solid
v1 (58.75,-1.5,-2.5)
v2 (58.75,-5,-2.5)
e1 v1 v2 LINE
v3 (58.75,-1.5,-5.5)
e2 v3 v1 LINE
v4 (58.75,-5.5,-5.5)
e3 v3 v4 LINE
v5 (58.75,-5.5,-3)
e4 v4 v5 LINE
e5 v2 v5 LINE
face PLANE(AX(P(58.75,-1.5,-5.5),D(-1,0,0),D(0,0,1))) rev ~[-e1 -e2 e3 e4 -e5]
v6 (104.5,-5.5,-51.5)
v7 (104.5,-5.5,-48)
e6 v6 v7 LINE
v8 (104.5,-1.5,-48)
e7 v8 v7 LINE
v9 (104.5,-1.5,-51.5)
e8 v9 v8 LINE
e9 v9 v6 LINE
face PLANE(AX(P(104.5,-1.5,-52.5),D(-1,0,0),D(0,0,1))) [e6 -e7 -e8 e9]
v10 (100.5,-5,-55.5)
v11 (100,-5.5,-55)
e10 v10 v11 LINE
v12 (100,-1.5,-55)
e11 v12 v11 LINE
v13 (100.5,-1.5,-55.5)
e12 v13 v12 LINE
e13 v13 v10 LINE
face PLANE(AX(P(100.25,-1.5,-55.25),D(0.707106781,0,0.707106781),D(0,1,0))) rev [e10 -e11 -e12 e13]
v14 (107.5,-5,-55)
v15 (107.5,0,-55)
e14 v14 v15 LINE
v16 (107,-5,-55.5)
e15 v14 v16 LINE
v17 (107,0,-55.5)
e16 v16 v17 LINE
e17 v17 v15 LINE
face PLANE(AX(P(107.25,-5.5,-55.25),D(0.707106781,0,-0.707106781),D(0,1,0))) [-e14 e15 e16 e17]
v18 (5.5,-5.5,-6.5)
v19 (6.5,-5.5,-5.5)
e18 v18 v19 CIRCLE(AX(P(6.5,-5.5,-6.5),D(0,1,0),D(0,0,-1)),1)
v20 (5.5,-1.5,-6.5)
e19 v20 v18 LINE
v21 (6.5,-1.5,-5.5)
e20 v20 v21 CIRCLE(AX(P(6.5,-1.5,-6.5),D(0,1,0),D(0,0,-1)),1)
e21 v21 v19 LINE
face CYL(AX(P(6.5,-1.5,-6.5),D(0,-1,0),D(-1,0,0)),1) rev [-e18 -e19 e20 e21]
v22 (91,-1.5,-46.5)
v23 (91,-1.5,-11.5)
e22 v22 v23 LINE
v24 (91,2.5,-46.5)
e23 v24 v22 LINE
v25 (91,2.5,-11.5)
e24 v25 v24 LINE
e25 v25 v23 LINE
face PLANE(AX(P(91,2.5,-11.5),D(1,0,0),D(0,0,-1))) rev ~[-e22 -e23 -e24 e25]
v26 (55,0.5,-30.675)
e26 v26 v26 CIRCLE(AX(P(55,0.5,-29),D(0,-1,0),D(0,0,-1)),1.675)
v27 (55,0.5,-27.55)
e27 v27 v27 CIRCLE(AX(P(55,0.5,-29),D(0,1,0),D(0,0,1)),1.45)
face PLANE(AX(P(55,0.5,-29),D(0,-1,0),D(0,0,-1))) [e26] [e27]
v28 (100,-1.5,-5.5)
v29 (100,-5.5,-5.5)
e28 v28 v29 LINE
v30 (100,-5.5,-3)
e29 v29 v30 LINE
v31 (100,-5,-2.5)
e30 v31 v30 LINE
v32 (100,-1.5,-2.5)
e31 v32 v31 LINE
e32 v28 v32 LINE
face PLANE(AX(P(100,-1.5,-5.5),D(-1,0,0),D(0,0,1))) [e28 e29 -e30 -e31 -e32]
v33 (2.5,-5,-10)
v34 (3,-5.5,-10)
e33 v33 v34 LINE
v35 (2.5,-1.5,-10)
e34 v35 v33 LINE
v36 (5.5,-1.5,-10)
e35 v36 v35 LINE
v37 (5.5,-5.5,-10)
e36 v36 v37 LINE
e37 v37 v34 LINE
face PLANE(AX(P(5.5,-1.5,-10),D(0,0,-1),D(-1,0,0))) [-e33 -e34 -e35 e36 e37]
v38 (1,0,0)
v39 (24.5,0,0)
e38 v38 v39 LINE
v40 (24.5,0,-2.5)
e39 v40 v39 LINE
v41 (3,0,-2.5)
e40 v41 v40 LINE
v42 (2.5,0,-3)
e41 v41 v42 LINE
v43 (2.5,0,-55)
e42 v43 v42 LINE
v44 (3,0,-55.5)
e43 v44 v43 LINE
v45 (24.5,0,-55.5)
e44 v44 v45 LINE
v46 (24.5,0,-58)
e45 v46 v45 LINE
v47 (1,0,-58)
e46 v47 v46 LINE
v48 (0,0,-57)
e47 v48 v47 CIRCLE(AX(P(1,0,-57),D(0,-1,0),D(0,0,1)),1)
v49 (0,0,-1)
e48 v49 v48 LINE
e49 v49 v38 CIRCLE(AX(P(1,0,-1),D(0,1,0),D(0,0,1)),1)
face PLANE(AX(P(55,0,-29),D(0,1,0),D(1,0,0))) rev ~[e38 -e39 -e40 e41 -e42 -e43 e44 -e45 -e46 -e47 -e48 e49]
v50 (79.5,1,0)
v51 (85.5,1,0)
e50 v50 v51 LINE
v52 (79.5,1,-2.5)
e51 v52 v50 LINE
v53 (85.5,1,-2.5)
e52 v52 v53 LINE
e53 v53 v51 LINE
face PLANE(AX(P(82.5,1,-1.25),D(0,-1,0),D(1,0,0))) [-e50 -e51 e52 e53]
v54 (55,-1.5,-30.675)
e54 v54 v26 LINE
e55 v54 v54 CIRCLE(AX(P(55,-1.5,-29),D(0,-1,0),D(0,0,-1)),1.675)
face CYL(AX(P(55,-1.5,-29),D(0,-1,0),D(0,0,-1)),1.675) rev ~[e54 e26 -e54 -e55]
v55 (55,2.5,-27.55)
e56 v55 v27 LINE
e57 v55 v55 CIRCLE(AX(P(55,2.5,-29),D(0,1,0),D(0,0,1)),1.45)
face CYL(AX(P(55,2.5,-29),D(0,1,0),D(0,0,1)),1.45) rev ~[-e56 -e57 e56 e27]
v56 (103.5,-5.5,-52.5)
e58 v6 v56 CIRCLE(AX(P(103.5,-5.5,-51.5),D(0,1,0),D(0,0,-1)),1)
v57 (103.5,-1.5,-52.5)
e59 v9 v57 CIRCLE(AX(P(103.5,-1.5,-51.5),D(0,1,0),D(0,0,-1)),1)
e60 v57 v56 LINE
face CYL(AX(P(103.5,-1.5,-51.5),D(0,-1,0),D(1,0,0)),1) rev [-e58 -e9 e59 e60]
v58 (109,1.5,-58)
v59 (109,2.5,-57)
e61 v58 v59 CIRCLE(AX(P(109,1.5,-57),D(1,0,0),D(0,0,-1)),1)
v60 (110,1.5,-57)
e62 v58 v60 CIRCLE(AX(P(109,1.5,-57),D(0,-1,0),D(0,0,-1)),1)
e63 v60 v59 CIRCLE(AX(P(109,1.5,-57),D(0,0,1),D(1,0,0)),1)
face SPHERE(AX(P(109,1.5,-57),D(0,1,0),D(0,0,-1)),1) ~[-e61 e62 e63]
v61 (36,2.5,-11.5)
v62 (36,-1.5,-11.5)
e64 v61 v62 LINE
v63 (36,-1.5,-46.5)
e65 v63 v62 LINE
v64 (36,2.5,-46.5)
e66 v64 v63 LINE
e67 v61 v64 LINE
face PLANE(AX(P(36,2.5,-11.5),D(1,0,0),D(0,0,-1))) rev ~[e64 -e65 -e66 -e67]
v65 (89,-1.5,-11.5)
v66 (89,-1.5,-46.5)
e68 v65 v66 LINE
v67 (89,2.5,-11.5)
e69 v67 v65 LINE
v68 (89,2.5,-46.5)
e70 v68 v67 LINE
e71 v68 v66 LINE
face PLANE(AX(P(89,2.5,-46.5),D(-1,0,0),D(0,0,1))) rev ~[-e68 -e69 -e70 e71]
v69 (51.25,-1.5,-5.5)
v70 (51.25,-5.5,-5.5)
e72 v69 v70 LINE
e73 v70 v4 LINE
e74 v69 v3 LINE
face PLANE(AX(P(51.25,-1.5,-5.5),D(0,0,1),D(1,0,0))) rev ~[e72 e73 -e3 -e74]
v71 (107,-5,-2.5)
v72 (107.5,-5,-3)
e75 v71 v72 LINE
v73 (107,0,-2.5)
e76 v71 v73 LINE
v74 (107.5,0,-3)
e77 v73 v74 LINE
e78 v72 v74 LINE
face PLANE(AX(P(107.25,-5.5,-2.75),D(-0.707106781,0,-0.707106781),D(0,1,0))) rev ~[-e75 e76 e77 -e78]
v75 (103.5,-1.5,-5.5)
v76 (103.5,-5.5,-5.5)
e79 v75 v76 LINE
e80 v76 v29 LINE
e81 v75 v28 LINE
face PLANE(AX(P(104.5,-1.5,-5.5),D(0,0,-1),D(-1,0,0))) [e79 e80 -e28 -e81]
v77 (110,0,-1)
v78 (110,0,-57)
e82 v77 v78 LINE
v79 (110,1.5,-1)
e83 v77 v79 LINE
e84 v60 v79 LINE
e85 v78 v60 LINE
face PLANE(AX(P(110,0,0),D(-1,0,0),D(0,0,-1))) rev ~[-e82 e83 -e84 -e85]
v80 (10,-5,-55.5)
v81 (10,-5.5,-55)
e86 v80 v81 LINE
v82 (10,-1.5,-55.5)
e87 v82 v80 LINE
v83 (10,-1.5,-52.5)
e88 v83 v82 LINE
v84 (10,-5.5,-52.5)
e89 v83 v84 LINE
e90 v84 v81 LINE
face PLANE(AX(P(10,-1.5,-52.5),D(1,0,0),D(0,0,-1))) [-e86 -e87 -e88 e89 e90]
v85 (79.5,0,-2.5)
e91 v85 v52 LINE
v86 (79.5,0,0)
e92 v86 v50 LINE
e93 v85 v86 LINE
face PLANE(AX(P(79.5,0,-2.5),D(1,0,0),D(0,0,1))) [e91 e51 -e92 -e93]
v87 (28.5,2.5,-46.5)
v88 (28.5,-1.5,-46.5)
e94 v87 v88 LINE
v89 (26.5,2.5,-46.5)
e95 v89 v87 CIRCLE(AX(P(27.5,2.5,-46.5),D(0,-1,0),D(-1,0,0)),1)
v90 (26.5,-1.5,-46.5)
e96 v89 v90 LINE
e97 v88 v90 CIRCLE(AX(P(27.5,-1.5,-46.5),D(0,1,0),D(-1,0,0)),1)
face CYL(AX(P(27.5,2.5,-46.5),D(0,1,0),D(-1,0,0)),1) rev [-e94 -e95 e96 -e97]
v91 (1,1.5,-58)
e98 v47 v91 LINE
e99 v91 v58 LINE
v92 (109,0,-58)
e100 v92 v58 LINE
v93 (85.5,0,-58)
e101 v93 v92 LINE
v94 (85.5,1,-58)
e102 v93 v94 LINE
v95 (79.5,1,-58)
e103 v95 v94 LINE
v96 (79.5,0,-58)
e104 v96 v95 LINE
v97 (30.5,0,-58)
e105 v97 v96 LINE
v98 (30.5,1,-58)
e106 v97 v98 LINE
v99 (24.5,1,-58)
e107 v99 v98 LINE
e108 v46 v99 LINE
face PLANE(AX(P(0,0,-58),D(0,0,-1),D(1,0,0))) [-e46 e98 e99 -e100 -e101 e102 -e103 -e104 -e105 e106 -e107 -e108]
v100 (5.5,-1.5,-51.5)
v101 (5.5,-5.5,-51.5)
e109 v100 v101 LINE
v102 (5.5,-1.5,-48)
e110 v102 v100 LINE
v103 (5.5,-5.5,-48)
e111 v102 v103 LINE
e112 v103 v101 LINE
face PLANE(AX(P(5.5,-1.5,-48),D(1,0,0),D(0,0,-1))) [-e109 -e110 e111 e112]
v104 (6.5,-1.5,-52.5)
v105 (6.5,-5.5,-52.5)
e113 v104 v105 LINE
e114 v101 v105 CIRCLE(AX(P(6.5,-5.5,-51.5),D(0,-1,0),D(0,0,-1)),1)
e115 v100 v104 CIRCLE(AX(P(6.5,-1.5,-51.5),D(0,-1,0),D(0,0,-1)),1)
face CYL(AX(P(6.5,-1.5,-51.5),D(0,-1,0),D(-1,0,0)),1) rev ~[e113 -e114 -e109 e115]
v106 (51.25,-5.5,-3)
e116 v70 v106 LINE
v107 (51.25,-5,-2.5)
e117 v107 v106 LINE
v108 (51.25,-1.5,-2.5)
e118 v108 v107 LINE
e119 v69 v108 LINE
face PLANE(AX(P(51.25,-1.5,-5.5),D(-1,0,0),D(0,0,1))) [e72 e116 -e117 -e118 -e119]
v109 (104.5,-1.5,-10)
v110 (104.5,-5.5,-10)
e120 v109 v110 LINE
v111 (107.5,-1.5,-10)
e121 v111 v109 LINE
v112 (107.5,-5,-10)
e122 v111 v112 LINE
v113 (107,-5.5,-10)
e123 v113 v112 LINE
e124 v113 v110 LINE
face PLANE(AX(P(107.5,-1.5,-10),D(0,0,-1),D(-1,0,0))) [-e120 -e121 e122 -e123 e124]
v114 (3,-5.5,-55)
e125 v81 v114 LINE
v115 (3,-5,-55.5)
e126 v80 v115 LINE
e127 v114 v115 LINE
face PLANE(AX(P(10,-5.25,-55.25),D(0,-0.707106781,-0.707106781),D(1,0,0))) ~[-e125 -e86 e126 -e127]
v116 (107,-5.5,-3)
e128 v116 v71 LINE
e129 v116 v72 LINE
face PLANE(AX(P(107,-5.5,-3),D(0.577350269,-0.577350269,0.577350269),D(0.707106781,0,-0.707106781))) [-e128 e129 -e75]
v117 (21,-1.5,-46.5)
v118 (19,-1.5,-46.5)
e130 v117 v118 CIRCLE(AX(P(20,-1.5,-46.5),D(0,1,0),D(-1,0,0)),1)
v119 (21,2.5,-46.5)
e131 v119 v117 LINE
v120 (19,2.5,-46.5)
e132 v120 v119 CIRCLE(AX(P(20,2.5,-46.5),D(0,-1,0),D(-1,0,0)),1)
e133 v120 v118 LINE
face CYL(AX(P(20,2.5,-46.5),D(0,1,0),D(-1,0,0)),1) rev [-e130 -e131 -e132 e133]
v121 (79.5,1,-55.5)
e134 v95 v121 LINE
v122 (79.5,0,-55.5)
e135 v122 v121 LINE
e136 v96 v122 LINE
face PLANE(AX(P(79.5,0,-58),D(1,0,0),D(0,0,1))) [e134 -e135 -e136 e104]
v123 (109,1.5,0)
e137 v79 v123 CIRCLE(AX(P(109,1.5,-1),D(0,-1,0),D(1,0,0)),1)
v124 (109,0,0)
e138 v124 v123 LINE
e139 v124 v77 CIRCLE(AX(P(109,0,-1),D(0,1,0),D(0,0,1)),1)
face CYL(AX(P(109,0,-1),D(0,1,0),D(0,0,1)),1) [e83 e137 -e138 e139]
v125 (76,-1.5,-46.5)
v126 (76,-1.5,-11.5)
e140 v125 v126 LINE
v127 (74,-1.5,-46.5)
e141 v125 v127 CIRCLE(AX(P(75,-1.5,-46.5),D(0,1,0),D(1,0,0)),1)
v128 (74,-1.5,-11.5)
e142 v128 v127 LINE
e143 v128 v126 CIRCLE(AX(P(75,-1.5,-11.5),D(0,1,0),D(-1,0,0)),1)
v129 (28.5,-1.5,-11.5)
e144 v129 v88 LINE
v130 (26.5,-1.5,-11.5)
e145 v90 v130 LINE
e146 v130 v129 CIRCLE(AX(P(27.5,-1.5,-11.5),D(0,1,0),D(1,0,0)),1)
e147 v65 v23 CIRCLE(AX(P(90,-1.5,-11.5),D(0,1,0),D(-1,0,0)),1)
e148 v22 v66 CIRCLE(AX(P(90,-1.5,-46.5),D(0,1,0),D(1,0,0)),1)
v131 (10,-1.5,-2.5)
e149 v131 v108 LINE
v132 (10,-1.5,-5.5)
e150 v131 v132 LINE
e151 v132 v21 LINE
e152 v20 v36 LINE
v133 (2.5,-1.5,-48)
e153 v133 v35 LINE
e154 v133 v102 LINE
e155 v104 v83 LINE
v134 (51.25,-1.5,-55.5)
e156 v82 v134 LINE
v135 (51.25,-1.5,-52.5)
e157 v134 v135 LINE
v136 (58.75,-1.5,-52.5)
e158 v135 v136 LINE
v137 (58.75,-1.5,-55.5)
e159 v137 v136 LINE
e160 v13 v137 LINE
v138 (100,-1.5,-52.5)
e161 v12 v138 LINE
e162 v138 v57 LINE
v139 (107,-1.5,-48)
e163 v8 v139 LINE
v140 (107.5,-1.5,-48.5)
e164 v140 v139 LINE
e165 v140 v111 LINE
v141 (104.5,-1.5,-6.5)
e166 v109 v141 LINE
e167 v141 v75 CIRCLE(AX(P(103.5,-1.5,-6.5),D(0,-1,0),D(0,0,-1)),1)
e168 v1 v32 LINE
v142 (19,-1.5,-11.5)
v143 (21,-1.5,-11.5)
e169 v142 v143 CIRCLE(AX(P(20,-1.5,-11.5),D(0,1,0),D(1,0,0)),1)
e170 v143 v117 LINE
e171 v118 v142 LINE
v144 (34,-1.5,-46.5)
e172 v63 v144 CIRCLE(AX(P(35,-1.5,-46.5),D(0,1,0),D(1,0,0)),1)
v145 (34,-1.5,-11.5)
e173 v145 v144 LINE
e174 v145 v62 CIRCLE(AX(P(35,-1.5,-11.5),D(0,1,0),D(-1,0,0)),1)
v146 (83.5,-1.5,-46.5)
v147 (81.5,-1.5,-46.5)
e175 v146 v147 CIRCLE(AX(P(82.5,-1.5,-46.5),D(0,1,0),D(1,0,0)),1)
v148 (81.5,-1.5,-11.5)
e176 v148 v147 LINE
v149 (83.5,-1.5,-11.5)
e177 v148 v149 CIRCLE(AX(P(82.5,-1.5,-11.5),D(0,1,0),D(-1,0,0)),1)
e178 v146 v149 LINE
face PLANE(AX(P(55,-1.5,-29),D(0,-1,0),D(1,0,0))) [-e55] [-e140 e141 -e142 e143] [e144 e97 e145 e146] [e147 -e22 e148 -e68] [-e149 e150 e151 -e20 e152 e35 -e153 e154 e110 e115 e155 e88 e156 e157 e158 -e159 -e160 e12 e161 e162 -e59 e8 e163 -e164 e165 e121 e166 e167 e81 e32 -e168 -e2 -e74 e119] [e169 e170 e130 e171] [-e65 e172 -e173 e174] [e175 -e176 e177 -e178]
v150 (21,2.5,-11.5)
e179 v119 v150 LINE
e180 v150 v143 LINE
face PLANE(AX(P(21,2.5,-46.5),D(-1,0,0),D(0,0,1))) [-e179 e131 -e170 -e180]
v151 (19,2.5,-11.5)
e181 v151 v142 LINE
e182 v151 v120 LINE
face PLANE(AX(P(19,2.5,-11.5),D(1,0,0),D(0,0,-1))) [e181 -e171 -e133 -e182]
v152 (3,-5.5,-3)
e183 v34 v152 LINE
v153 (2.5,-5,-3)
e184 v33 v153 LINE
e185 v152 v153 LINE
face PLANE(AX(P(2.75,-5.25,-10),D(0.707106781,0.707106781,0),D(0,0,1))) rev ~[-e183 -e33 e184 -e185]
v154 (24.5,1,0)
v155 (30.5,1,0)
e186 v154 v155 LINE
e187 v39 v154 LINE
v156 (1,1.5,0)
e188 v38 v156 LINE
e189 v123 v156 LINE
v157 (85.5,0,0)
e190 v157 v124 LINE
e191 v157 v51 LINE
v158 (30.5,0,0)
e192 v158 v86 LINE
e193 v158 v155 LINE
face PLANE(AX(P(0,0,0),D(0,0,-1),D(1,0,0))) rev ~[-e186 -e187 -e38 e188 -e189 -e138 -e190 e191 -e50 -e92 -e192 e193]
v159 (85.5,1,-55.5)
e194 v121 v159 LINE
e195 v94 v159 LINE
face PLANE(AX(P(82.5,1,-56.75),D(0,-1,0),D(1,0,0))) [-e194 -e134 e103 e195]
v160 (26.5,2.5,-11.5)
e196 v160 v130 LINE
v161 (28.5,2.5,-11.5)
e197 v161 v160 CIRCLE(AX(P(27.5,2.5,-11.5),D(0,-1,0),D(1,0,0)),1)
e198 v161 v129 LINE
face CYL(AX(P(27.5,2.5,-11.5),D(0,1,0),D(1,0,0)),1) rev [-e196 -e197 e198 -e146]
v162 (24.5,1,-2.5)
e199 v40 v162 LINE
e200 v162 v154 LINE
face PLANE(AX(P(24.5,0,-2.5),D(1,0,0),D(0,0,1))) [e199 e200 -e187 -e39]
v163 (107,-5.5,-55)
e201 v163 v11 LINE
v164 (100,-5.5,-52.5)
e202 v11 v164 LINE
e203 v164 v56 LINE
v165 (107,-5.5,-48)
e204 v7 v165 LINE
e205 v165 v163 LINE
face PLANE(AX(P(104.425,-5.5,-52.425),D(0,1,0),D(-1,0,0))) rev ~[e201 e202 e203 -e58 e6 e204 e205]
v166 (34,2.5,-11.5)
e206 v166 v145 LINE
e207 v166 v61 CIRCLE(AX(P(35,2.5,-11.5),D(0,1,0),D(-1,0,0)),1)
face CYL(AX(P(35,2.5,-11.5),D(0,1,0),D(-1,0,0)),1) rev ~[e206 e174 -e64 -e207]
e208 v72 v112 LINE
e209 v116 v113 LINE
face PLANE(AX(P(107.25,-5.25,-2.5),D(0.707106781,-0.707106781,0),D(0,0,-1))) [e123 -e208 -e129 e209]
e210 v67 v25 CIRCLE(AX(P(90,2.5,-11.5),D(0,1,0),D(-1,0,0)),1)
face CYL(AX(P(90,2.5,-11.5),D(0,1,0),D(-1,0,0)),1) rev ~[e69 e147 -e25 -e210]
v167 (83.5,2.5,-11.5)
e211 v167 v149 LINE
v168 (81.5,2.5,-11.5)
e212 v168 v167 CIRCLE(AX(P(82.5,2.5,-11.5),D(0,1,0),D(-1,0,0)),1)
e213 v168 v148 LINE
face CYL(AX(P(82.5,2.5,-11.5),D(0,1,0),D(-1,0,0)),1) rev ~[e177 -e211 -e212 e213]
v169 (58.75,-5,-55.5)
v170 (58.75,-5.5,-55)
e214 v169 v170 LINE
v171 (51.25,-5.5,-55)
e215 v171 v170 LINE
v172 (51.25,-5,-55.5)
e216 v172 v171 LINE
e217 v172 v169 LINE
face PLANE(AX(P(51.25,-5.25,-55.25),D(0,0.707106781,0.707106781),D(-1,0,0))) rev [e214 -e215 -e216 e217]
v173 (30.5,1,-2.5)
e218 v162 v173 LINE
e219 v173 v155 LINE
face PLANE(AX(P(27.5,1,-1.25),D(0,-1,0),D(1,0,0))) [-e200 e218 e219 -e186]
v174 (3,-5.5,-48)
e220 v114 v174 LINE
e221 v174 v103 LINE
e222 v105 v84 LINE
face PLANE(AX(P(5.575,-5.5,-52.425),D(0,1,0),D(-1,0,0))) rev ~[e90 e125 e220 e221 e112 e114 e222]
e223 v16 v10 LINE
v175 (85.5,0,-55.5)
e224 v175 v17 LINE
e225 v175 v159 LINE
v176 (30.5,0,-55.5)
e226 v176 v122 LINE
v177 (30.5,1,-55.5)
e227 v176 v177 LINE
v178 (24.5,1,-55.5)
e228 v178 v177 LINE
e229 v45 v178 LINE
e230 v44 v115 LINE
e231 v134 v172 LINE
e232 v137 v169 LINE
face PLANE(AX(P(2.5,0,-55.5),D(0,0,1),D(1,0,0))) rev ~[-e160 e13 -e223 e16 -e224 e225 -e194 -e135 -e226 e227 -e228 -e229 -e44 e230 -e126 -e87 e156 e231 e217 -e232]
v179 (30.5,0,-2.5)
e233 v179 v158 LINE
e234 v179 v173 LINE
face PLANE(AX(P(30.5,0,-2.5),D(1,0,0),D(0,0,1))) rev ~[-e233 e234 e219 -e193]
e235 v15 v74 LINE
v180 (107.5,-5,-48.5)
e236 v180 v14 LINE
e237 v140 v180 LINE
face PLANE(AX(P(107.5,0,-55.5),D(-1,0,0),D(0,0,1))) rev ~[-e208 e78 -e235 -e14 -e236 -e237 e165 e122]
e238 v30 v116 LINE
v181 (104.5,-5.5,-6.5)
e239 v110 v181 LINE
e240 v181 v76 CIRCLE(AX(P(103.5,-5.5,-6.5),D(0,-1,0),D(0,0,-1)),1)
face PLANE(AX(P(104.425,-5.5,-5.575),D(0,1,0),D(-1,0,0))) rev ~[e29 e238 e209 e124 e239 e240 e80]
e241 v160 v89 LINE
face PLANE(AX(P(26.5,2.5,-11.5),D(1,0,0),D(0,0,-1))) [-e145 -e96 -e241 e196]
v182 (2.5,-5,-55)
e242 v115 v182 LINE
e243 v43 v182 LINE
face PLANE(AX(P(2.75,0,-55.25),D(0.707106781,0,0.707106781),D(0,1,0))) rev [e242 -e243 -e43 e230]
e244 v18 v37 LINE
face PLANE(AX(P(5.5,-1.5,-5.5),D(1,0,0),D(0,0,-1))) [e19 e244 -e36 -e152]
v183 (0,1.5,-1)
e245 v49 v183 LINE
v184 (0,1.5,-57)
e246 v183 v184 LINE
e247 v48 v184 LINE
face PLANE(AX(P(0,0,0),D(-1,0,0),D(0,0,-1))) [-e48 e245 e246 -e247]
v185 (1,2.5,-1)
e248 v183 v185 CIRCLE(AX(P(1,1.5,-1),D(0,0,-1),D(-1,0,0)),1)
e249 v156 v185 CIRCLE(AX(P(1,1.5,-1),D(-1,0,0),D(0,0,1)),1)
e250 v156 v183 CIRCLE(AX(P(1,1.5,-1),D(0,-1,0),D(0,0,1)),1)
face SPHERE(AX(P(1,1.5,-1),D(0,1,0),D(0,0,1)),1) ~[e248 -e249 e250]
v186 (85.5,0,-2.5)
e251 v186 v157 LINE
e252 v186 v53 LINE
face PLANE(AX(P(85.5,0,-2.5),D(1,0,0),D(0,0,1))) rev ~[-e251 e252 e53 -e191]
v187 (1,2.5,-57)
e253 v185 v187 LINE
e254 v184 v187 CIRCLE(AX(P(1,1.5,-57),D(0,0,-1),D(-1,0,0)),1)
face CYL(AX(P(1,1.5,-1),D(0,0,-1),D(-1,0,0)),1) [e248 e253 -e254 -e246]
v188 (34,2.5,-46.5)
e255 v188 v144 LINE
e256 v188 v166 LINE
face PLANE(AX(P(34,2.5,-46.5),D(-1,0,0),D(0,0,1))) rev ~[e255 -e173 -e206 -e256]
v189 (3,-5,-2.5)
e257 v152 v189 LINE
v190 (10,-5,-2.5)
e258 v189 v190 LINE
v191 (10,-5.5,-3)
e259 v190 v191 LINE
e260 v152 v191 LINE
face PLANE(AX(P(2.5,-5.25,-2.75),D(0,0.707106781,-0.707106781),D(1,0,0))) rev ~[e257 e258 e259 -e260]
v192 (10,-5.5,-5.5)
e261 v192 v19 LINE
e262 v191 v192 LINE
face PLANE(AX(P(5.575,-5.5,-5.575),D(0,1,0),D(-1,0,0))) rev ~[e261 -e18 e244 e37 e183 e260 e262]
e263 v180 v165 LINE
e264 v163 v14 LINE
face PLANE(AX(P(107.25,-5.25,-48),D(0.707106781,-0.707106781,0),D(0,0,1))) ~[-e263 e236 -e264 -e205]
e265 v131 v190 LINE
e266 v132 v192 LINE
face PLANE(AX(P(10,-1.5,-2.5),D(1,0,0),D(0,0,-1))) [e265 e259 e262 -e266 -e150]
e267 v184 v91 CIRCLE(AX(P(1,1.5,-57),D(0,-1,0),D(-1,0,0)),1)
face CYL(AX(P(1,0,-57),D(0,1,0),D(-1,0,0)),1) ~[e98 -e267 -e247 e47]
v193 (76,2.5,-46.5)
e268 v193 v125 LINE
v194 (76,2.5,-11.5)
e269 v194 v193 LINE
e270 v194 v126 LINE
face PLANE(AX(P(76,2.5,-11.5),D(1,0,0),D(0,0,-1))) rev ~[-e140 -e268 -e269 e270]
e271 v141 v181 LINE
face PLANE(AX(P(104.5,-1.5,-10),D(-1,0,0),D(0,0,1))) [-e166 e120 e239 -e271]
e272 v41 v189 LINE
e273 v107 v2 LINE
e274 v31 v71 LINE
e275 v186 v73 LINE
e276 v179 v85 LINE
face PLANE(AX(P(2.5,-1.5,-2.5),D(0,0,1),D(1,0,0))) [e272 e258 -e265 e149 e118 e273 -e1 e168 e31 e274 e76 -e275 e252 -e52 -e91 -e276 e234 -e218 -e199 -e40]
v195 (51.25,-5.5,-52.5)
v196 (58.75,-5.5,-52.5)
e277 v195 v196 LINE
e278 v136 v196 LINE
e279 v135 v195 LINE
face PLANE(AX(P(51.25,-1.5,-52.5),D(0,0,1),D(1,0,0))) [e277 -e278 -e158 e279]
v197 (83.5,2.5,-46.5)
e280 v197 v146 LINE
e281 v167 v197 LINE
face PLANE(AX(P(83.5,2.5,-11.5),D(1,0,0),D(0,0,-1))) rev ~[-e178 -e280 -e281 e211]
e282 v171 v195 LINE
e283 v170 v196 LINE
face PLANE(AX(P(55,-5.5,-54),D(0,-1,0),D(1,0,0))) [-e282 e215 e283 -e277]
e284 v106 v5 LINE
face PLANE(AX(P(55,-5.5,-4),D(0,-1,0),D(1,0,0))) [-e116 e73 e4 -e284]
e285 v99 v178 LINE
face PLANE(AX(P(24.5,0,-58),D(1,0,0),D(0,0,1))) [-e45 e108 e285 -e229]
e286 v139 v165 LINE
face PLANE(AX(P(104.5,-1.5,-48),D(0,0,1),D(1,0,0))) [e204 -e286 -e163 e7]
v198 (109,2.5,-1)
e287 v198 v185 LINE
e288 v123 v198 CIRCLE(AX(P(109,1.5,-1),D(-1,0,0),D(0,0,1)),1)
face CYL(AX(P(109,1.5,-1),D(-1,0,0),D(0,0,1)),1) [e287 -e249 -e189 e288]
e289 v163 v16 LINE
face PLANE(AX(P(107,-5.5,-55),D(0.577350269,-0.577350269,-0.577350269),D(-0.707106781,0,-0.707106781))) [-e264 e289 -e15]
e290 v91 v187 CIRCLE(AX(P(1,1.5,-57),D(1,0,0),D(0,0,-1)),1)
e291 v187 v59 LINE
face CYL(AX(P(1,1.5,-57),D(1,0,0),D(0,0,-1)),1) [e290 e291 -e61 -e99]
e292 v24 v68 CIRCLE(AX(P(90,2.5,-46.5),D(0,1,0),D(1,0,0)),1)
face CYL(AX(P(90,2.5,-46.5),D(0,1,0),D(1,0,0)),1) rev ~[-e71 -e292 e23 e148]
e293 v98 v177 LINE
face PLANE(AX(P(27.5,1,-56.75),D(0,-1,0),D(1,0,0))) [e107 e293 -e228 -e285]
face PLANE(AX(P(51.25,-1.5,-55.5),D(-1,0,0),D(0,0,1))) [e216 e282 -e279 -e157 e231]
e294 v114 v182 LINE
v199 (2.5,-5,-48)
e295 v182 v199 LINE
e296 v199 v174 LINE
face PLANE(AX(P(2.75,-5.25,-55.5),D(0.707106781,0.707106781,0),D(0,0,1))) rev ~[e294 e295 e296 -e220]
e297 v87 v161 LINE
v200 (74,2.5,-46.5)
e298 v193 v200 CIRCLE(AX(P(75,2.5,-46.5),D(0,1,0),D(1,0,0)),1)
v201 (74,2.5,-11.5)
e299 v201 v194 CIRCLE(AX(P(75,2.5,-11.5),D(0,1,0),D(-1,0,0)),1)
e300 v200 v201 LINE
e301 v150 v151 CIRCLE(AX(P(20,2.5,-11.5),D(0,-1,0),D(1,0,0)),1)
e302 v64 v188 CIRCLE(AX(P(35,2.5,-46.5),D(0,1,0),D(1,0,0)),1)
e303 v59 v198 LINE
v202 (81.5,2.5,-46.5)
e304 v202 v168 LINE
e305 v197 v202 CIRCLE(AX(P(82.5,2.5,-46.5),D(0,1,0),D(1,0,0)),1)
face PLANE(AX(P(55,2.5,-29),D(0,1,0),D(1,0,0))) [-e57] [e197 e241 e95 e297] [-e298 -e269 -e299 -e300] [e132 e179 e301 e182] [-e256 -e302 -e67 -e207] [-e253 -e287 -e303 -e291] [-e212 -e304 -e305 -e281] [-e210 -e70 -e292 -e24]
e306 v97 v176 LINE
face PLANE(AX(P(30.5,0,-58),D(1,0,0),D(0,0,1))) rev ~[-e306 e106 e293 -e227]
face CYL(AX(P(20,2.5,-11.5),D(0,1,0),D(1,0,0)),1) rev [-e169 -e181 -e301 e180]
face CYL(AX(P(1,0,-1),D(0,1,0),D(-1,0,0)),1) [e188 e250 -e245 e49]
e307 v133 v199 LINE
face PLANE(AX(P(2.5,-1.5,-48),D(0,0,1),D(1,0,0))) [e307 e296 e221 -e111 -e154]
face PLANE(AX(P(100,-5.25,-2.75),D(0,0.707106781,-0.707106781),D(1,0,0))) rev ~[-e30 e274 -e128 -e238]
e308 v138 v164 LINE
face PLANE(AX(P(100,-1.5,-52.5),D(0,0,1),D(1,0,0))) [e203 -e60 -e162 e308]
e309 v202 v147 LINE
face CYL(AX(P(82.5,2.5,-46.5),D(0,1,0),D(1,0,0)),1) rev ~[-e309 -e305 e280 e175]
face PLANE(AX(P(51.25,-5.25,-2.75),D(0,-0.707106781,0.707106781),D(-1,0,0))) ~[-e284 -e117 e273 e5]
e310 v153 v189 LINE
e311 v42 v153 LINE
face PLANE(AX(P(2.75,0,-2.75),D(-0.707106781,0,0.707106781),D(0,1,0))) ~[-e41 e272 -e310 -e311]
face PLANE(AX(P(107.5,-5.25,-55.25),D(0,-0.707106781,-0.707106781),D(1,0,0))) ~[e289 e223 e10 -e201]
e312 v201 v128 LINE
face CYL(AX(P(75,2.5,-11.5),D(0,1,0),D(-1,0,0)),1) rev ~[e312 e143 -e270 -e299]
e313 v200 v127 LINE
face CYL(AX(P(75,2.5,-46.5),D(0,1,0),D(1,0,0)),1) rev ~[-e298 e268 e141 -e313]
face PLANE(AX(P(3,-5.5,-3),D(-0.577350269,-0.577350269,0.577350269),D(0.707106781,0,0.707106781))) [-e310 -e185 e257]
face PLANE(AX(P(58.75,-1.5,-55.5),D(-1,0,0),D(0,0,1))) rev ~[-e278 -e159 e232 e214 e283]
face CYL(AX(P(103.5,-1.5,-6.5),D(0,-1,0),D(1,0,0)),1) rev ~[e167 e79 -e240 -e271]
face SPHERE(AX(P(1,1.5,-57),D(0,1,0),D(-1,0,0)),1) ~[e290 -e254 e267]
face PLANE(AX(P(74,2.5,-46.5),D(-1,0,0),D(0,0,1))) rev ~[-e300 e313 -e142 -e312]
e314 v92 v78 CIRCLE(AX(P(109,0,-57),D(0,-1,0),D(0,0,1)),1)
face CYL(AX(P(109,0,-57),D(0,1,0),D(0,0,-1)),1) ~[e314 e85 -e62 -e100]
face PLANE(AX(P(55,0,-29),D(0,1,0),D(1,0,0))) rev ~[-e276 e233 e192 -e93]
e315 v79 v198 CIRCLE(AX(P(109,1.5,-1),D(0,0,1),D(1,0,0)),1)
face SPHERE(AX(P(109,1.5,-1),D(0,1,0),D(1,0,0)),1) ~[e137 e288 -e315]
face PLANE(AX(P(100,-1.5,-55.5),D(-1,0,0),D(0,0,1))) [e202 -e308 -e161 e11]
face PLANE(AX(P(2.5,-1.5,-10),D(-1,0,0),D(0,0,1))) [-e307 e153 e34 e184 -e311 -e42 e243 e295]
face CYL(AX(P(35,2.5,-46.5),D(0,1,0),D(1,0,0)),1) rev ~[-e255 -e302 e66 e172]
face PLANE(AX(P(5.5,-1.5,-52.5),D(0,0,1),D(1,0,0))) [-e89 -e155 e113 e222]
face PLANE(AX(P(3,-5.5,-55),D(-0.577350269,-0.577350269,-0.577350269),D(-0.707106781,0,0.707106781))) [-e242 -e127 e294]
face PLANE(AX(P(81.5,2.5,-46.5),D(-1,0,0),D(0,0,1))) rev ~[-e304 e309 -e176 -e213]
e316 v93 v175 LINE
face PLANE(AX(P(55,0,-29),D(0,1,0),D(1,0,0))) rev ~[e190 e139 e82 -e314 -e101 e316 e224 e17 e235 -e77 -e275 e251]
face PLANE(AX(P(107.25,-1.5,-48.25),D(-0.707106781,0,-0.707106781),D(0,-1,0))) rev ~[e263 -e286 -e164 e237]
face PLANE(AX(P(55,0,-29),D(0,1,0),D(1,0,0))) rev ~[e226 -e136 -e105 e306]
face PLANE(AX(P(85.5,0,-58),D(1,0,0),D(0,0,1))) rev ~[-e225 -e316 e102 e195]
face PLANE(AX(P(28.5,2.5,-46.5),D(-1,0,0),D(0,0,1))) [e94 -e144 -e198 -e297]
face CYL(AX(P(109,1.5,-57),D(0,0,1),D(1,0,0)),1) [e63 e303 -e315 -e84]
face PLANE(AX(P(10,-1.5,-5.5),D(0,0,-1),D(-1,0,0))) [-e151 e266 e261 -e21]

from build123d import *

# Parameters (mm, degrees)
SKETCH1_W           = 110
SKETCH1_H           = 58
BOSS_EXTRUDE1_DEPTH = 2.5
SKETCH2_W           = 105
SKETCH2_H           = 53
BOSS_EXTRUDE2_DEPTH = 1.5
SKETCH3_W           = 7.5
SKETCH3_H           = 3
BOSS_EXTRUDE3_DEPTH = 4
FILLET1_R           = 1
SKETCH4_W           = 6
SKETCH4_H           = 2.5
CUT_EXTRUDE1_DEPTH  = 1
FILLET2_R           = 1
CHAMFER1_SIZE       = 0.5
CUT_EXTRUDE2_DEPTH  = 125.611395948
FILLET3_R           = 1
SKETCH6_R           = 1.45
CUT_EXTRUDE3_DEPTH  = 125.611395948
SKETCH7_R           = 1.675
CUT_EXTRUDE4_DEPTH  = 2


with BuildPart() as part:
    # Sketch1 → Boss-Extrude1 (new body)
    with BuildSketch(Plane(origin=(0, 0, 0), x_dir=(1, 0, 0), z_dir=(0, 1, 0))):
        with Locations((55, 29)):
            Rectangle(SKETCH1_W, SKETCH1_H)
    extrude(amount=BOSS_EXTRUDE1_DEPTH)

    # Sketch2 → Boss-Extrude2 (add)
    with BuildSketch(Plane.XZ):
        with Locations((55, -29)):
            Rectangle(SKETCH2_W, SKETCH2_H)
    extrude(amount=BOSS_EXTRUDE2_DEPTH)

    # Sketch3 → Boss-Extrude3 (add)
    with BuildSketch(Plane.XZ.offset(1.5)):
        with Locations((55, -4)):
            Rectangle(SKETCH3_W, SKETCH3_H)
        Polygon((2.5, -2.5), (10, -2.5), (10, -5.5), (5.5, -5.5), (5.5, -10), (2.5, -10), align=None)
        Polygon((107.5, -2.5), (107.5, -10), (104.5, -10), (104.5, -5.5), (100, -5.5), (100, -2.5), align=None)
        Polygon((107.5, -55.5), (100, -55.5), (100, -52.5), (104.5, -52.5), (104.5, -48), (107.5, -48), align=None)
        with Locations((55, -54)):
            Rectangle(SKETCH3_W, SKETCH3_H)
        Polygon((2.5, -55.5), (2.5, -48), (5.5, -48), (5.5, -52.5), (10, -52.5), (10, -55.5), align=None)
    extrude(amount=BOSS_EXTRUDE3_DEPTH)

    # Fillet1
    fillet1_edges = [part.edges().sort_by_distance(p)[0] for p in [
        (104.5, -3.5, -52.5),
        (5.5, -3.5, -5.5),
        (104.5, -3.5, -5.5),
        (5.5, -3.5, -52.5),
    ]]
    fillet(fillet1_edges, radius=FILLET1_R)

    # Sketch4 → Cut-Extrude1 (cut)
    with BuildSketch(Plane.XZ):
        with Locations((27.5, -1.25)):
            Rectangle(SKETCH4_W, SKETCH4_H)
        with Locations((82.5, -1.25)):
            Rectangle(SKETCH4_W, SKETCH4_H)
        with Locations((82.5, -56.75)):
            Rectangle(SKETCH4_W, SKETCH4_H)
        with Locations((27.5, -56.75)):
            Rectangle(SKETCH4_W, SKETCH4_H)
    extrude(amount=-CUT_EXTRUDE1_DEPTH, mode=Mode.SUBTRACT)

    # Fillet2
    fillet2_edges = [part.edges().sort_by_distance(p)[0] for p in [
        (0, 1.25, -58),
        (110, 1.25, -58),
        (110, 1.25, 0),
        (0, 1.25, 0),
    ]]
    fillet(fillet2_edges, radius=FILLET2_R)

    # Chamfer1
    chamfer1_edges = [part.edges().sort_by_distance(p)[0] for p in [
        (2.5, -2.75, -2.5),
        (2.5, -2.75, -55.5),
        (107.5, -2.75, -55.5),
        (107.5, -2.75, -2.5),
        (107.5, -3.5, -48),
        (100, -3.5, -55.5),
        (107.5, -5.5, -51.75),
        (103.75, -5.5, -55.5),
        (2.5, -5.5, -6.25),
        (6.25, -5.5, -2.5),
        (55, -5.5, -2.5),
        (103.75, -5.5, -2.5),
        (107.5, -5.5, -6.25),
        (55, -5.5, -55.5),
        (6.25, -5.5, -55.5),
        (2.5, -5.5, -51.75),
    ]]
    chamfer(chamfer1_edges, length=CHAMFER1_SIZE)

    # Sketch5 → Cut-Extrude2 (cut, through all)
    with BuildSketch(Plane(origin=(0, 2.5, 0), x_dir=(1, 0, 0), z_dir=(0, 1, 0))):
        with BuildLine():
            Line((28.5, 46.5), (28.5, 11.5))
            ThreePointArc((28.5, 11.5), (27.5, 10.5), (26.5, 11.5))
            Line((26.5, 11.5), (26.5, 46.5))
            ThreePointArc((26.5, 46.5), (27.5, 47.5), (28.5, 46.5))
        make_face()
        with BuildLine():
            Line((34, 46.5), (34, 11.5))
            ThreePointArc((34, 11.5), (35, 10.5), (36, 11.5))
            Line((36, 11.5), (36, 46.5))
            ThreePointArc((36, 46.5), (35, 47.5), (34, 46.5))
        make_face()
        with BuildLine():
            Line((21, 46.5), (21, 11.5))
            ThreePointArc((21, 11.5), (20, 10.5), (19, 11.5))
            Line((19, 11.5), (19, 46.5))
            ThreePointArc((19, 46.5), (20, 47.5), (21, 46.5))
        make_face()
        with BuildLine():
            Line((89, 46.5), (89, 11.5))
            ThreePointArc((89, 11.5), (90, 10.5), (91, 11.5))
            Line((91, 11.5), (91, 46.5))
            ThreePointArc((91, 46.5), (90, 47.5), (89, 46.5))
        make_face()
        with BuildLine():
            Line((74, 46.5), (74, 11.5))
            ThreePointArc((74, 11.5), (75, 10.5), (76, 11.5))
            Line((76, 11.5), (76, 46.5))
            ThreePointArc((76, 46.5), (75, 47.5), (74, 46.5))
        make_face()
        with BuildLine():
            Line((81.5, 46.5), (81.5, 11.5))
            ThreePointArc((81.5, 11.5), (82.5, 10.5), (83.5, 11.5))
            Line((83.5, 11.5), (83.5, 46.5))
            ThreePointArc((83.5, 46.5), (82.5, 47.5), (81.5, 46.5))
        make_face()
    extrude(amount=-CUT_EXTRUDE2_DEPTH, mode=Mode.SUBTRACT)

    # Fillet3
    fillet3_edges = [part.edges().sort_by_distance(p)[0] for p in [
        (0, 2.5, -29),
        (55, 2.5, -58),
        (55, 2.5, 0),
        (110, 2.5, -29),
        (109.707106781, 2.5, -0.292893219),
        (109.707106781, 2.5, -57.707106781),
        (0.292893219, 2.5, -0.292893219),
        (0.292893219, 2.5, -57.707106781),
    ]]
    fillet(fillet3_edges, radius=FILLET3_R)

    # Sketch6 → Cut-Extrude3 (cut, through all)
    with BuildSketch(Plane(origin=(0, 2.5, 0), x_dir=(1, 0, 0), z_dir=(0, 1, 0))):
        with Locations(Location((55, 29, 0), (0, 0, 270))):
            Circle(SKETCH6_R)
    extrude(amount=-CUT_EXTRUDE3_DEPTH, mode=Mode.SUBTRACT)

    # Sketch7 → Cut-Extrude4 (cut)
    with BuildSketch(Plane.XZ.offset(1.5)):
        with Locations(Location((55, -29, 0), (0, 0, 270))):
            Circle(SKETCH7_R)
    extrude(amount=-CUT_EXTRUDE4_DEPTH, mode=Mode.SUBTRACT)


solid = part.part
